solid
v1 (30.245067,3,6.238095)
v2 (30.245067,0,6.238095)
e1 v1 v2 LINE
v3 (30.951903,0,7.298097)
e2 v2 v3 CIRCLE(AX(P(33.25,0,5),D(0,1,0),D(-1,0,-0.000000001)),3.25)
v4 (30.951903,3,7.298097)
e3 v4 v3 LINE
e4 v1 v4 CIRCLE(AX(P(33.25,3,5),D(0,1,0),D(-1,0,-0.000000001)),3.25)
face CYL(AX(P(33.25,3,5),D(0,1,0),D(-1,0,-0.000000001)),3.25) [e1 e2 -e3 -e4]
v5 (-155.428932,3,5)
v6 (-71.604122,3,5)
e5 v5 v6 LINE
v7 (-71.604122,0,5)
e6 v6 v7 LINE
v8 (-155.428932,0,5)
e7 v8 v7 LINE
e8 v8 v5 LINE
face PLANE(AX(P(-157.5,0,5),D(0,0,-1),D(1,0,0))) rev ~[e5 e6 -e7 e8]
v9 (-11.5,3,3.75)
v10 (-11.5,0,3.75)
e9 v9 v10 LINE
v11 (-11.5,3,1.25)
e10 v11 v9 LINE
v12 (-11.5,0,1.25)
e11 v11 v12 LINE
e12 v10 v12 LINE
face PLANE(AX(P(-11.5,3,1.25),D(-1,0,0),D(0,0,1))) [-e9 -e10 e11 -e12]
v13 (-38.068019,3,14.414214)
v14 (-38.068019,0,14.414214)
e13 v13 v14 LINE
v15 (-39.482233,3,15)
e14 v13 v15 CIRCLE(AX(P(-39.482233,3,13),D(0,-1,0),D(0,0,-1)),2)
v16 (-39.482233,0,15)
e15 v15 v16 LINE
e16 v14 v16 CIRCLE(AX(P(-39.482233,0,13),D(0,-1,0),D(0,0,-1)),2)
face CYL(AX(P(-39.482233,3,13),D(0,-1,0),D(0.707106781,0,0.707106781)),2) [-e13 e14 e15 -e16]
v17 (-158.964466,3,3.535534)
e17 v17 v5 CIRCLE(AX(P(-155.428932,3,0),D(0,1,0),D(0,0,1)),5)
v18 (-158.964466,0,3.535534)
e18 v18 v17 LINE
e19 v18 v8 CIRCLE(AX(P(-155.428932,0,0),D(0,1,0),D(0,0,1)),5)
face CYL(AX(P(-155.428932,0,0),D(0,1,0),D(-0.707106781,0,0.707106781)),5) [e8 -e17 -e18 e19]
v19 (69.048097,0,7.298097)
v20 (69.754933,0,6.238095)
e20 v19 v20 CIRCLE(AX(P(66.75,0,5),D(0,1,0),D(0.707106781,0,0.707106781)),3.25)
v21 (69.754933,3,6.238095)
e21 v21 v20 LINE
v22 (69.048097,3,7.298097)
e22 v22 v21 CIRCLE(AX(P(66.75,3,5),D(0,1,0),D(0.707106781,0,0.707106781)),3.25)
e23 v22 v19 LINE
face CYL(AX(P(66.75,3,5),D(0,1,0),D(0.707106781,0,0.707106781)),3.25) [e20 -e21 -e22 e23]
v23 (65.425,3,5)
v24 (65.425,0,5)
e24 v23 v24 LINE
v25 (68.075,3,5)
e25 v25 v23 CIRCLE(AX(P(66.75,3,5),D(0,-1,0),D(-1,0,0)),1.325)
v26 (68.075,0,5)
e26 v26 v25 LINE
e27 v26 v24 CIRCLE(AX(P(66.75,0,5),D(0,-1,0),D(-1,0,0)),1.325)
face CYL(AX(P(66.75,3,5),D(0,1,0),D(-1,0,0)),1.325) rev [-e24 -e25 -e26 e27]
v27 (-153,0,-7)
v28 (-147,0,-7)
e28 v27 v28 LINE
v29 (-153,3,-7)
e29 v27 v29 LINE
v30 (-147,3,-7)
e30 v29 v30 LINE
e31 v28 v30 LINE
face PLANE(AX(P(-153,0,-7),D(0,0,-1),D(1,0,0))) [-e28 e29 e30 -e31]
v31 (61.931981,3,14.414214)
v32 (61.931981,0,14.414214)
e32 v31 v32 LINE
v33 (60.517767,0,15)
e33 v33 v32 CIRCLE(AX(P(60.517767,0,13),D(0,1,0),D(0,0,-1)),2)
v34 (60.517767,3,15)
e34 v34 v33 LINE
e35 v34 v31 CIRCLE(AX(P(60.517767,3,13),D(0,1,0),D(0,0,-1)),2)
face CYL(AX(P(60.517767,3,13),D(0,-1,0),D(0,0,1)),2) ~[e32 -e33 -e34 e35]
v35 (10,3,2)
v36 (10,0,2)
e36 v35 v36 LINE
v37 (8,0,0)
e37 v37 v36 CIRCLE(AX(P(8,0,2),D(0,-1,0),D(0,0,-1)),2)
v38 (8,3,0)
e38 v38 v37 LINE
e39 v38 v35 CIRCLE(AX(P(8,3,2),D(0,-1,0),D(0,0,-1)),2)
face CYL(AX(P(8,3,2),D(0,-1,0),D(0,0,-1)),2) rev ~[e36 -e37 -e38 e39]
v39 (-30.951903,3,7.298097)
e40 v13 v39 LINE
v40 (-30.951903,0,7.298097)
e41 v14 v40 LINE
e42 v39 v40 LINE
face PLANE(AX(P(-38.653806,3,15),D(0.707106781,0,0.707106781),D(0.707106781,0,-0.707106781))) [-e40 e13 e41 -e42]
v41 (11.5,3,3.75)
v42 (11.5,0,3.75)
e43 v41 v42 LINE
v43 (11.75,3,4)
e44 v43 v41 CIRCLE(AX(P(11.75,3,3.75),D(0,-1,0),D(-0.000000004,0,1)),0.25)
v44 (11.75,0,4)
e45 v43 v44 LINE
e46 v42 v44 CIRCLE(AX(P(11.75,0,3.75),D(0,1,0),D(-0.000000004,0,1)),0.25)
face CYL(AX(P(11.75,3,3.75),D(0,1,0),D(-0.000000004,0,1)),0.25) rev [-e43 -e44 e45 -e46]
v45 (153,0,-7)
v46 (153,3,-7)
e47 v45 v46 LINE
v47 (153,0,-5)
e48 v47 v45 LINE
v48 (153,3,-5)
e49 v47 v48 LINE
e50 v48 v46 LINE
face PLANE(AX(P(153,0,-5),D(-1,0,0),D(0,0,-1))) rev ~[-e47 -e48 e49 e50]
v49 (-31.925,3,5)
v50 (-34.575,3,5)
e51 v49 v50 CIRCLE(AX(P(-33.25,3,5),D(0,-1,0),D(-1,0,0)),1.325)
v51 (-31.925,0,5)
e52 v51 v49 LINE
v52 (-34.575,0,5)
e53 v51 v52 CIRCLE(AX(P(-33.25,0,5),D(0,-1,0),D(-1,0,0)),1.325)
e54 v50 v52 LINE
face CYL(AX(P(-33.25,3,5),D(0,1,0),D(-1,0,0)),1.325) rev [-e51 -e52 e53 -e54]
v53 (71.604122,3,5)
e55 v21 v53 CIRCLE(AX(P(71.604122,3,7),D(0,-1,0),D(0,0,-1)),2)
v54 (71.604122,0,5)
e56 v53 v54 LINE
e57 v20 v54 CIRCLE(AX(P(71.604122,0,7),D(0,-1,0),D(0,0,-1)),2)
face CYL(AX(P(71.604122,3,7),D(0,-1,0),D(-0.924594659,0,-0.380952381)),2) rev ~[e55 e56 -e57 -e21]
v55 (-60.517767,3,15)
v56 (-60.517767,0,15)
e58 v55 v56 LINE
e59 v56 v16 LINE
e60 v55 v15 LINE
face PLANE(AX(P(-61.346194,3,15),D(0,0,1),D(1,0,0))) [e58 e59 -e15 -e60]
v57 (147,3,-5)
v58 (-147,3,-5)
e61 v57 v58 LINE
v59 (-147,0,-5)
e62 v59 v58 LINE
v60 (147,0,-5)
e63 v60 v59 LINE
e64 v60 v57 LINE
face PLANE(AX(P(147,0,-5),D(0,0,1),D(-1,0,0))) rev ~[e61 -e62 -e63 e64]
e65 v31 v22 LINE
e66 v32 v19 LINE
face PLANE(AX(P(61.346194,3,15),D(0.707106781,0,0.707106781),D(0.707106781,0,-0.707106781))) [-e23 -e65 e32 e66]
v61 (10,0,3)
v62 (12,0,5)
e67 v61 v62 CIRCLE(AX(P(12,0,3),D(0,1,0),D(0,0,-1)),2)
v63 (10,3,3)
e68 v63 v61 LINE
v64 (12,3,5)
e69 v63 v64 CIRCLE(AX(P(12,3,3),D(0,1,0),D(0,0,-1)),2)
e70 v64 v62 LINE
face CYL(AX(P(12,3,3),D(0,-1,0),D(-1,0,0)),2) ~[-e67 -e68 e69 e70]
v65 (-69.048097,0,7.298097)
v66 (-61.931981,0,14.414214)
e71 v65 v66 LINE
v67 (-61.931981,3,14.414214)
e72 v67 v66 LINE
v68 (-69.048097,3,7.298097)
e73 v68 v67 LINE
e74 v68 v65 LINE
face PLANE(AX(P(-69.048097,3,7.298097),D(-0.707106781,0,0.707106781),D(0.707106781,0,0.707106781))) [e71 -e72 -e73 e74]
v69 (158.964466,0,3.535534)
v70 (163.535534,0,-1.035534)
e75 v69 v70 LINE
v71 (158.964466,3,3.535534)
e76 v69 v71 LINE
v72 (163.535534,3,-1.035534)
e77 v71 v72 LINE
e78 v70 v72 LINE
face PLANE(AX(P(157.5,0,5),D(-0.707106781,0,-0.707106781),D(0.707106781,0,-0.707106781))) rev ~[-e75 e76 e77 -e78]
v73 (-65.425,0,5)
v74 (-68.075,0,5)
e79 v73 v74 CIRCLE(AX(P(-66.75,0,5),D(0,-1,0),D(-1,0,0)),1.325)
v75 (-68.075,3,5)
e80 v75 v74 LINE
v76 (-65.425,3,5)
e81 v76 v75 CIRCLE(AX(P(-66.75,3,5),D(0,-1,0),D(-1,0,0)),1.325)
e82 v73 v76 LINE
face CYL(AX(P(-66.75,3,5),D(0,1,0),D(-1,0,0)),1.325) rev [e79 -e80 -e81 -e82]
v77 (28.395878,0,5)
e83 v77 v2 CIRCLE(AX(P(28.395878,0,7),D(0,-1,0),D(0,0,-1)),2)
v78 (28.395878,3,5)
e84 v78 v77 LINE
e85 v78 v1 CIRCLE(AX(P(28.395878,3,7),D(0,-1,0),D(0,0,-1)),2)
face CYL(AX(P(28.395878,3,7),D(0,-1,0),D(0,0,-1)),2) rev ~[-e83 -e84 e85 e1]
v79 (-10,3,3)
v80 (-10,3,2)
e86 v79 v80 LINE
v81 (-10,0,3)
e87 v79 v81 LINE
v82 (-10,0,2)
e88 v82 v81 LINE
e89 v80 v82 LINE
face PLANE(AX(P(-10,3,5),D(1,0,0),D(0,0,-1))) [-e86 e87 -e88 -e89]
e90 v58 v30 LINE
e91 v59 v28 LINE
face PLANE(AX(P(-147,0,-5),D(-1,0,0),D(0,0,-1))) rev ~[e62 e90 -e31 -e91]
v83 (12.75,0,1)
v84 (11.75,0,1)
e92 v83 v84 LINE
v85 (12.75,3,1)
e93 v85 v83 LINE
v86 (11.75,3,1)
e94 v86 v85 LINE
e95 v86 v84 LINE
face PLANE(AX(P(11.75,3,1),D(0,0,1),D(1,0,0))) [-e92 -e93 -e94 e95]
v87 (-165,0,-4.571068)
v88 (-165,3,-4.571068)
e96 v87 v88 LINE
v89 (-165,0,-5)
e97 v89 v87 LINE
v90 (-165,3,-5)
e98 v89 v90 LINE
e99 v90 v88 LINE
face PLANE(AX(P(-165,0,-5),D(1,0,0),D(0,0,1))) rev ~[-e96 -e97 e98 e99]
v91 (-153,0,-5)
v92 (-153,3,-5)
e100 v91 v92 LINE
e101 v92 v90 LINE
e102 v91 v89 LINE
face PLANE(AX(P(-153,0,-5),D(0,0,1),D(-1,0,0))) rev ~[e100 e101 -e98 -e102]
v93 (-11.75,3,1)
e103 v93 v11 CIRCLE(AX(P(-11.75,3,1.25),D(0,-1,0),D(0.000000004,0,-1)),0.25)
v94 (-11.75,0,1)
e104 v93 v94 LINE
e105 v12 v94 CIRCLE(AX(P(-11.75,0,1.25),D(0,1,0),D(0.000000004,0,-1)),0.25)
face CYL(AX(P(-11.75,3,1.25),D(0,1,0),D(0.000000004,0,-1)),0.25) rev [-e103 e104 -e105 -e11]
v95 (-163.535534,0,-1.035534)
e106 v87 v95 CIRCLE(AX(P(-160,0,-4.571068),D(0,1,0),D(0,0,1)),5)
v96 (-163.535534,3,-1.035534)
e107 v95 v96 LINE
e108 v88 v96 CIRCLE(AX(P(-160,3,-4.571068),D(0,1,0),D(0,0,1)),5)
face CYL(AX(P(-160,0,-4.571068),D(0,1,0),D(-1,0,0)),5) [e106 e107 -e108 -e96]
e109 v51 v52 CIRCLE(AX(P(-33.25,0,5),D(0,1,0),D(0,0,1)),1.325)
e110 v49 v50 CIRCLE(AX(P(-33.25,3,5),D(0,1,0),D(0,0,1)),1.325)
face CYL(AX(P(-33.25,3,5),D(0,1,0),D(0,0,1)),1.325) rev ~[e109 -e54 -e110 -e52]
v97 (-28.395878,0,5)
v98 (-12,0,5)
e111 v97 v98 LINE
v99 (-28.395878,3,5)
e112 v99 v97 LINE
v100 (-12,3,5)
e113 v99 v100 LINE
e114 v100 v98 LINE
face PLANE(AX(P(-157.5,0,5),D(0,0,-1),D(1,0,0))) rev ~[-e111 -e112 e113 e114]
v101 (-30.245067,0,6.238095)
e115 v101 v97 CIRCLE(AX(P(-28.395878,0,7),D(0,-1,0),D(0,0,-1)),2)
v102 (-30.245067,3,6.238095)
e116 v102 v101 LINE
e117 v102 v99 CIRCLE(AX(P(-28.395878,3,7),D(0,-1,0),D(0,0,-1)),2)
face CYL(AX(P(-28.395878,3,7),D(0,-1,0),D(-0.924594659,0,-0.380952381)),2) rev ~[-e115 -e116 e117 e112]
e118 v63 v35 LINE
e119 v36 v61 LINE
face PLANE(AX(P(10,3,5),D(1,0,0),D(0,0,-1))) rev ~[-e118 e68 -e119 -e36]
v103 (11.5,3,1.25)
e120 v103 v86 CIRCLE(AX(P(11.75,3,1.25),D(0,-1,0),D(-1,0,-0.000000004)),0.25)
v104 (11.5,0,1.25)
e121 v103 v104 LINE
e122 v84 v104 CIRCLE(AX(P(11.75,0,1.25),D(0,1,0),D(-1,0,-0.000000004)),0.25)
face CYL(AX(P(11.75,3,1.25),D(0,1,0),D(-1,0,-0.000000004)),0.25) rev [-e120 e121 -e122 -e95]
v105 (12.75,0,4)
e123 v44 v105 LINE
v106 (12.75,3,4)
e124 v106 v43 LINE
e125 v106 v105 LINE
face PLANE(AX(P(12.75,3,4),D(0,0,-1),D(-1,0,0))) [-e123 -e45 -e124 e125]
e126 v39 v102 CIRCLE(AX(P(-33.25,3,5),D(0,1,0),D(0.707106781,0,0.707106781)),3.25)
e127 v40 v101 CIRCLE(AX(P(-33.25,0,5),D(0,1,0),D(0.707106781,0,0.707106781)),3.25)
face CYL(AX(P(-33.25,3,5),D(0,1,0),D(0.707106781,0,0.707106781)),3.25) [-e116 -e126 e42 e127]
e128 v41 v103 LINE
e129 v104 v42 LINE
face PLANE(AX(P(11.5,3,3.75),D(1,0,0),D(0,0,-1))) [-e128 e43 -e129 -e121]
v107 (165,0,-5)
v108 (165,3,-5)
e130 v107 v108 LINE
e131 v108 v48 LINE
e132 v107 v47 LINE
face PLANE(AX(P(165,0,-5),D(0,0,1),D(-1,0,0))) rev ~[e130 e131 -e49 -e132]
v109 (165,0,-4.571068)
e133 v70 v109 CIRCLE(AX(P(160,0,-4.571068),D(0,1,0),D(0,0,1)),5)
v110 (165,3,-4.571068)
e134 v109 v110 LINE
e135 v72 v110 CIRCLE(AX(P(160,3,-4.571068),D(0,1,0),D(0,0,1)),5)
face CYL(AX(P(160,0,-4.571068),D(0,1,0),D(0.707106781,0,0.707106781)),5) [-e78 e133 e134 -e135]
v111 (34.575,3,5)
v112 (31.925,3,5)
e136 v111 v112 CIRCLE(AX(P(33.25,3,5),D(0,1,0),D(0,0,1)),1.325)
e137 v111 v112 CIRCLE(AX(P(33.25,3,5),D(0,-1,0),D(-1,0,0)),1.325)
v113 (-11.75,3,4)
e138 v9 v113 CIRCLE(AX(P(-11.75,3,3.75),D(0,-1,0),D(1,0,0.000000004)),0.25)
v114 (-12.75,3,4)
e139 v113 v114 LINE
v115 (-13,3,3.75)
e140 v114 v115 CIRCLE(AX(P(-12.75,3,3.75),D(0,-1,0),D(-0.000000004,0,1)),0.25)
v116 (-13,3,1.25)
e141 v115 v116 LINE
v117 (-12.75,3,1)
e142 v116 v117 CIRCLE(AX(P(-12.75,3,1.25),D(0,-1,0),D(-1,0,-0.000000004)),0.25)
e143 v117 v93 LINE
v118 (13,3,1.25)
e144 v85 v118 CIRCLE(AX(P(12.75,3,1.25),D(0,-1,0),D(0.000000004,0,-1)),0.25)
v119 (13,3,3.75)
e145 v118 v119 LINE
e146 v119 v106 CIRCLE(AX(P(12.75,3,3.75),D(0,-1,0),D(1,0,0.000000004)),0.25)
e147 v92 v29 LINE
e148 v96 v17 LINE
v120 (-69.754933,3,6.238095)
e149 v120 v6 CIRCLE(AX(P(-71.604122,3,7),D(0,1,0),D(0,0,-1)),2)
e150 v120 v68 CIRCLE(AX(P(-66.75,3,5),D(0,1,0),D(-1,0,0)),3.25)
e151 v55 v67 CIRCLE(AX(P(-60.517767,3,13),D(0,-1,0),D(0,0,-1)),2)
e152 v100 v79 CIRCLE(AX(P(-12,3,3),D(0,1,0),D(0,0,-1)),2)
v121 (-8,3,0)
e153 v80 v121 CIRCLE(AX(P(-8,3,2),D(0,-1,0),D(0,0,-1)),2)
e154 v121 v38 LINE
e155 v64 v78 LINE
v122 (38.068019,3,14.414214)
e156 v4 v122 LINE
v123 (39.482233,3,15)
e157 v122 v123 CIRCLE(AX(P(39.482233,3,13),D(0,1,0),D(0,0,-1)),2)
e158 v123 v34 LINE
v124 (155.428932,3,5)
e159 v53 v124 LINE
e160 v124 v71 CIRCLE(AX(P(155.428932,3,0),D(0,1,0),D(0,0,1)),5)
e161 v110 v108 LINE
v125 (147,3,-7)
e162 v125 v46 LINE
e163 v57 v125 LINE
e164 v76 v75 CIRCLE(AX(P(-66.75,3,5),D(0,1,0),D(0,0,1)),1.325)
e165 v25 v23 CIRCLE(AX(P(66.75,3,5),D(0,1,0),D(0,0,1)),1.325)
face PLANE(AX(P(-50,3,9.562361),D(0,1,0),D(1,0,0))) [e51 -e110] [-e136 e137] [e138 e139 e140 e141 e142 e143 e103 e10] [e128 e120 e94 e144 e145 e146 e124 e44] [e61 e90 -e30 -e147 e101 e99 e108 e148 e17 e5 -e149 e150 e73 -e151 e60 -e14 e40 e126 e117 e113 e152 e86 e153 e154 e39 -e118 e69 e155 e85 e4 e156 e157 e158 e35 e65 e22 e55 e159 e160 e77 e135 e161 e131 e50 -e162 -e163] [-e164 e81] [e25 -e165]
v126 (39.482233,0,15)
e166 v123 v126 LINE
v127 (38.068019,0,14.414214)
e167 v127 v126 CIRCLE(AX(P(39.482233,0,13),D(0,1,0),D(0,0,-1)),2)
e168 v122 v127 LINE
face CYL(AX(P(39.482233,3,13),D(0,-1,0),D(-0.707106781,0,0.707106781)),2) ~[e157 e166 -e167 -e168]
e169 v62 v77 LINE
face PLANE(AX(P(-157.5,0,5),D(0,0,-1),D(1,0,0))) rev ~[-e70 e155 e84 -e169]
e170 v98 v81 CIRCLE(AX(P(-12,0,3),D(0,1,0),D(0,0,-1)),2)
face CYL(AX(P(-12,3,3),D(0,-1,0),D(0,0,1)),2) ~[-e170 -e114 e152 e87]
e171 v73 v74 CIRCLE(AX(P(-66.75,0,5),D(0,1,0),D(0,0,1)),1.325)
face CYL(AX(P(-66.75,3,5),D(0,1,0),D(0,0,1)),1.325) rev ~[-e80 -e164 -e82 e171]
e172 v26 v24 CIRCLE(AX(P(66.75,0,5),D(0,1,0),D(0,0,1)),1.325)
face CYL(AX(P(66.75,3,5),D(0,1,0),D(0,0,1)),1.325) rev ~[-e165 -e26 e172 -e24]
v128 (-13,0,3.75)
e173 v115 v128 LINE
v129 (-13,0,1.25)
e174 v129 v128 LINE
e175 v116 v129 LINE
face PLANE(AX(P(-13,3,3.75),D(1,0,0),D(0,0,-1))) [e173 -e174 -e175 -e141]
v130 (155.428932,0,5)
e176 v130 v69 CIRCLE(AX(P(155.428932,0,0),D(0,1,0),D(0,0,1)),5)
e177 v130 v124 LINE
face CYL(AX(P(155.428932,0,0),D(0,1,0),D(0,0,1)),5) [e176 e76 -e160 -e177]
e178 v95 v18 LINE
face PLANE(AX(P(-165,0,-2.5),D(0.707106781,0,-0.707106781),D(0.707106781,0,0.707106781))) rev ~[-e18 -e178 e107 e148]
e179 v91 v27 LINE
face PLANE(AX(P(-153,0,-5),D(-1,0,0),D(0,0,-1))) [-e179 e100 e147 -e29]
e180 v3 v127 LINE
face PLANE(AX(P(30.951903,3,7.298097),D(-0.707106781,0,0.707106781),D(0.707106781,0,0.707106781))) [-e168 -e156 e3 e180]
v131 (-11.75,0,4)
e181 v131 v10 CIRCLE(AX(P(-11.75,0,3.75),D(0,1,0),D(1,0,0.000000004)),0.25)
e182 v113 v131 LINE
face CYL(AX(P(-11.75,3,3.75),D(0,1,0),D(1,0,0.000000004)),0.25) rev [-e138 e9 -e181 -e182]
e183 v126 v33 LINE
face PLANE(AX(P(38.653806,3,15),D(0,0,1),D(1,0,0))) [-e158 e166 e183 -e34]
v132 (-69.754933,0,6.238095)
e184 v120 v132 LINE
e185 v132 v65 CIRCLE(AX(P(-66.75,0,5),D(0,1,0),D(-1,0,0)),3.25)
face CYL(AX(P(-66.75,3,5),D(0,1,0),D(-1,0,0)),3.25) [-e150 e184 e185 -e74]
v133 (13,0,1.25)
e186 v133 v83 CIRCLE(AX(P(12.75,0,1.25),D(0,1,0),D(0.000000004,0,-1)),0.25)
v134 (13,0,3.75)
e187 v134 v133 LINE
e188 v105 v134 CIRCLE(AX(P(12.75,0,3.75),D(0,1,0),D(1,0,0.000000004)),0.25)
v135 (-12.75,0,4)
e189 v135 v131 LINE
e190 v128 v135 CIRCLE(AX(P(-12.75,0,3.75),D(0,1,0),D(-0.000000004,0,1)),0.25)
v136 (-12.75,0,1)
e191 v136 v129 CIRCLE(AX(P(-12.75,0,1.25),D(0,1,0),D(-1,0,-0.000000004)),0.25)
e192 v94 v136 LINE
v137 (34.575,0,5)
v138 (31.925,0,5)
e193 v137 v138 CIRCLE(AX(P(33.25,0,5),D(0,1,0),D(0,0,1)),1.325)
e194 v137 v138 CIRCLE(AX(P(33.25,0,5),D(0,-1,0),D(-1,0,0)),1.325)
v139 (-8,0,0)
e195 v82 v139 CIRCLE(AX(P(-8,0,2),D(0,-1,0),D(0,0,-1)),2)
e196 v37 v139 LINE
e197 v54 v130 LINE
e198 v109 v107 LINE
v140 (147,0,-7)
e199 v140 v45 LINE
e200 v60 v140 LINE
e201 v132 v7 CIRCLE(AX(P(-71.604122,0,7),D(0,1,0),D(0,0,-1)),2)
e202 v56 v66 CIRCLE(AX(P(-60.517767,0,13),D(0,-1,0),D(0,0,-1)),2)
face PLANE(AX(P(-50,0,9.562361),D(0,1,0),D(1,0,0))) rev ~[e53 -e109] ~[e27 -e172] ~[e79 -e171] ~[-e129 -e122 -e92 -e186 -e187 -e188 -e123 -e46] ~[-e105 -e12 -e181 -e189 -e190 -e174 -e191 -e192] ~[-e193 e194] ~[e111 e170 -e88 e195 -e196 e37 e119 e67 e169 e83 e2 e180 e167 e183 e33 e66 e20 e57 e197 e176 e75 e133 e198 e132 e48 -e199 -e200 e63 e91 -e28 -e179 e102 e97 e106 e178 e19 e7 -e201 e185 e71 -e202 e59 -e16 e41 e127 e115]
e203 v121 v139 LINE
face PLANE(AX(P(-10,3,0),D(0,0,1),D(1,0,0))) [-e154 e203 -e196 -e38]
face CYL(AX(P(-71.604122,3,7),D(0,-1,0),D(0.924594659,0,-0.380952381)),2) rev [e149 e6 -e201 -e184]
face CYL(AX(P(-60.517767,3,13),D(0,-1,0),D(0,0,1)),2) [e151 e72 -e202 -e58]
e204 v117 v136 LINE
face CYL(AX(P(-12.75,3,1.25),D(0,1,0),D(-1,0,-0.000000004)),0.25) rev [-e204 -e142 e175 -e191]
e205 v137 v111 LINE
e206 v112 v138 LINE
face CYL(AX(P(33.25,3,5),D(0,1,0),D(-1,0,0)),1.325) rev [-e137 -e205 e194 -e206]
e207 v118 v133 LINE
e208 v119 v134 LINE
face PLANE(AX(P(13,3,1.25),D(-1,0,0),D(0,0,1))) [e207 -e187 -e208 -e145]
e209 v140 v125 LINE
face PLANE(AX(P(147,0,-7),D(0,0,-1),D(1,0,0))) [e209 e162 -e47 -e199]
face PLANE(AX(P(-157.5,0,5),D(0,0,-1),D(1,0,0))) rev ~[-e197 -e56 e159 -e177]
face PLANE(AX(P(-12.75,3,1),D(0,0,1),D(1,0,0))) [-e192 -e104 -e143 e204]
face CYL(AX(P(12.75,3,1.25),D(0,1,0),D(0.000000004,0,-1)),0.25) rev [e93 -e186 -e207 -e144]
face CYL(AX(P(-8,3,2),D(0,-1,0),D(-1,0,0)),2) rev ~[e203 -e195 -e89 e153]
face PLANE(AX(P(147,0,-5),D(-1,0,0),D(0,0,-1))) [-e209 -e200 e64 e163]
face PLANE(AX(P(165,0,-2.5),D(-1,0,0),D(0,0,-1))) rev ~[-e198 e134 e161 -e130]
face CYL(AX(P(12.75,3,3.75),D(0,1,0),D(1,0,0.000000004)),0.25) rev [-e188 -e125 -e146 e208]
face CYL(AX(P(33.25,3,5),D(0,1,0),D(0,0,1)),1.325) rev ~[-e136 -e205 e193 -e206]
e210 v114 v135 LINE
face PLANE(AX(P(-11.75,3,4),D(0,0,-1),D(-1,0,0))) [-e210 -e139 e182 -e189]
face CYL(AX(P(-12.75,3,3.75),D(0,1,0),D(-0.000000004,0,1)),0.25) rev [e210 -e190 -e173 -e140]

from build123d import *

# Parameters (mm, degrees)
SKETCH1_W           = 6
SKETCH1_H           = 2
BOSS_EXTRUDE1_DEPTH = 3
FILLET1_R           = 5
BOSS_EXTRUDE2_DEPTH = 3
CUT_EXTRUDE1_REACH  = 167.708
SKETCH3_R           = 1.325
SKETCH3_W           = 20
SKETCH3_H           = 5
FILLET2_R           = 2
FILLET3_R           = 2


with BuildPart() as part:
    # Sketch1 → Boss-Extrude1 (new body)
    with BuildSketch(Plane(origin=(0, 0, 0), x_dir=(1, 0, 0), z_dir=(0, 1, 0))):
        Polygon((-153, 5), (-165, 5), (-165, 2.5), (-157.5, -5), (157.5, -5), (165, 2.5), (165, 5), (153, 5), (147, 5), (-147, 5), align=None)
        with Locations((-150, 6)):
            Rectangle(SKETCH1_W, SKETCH1_H)
        with Locations((150, 6)):
            Rectangle(SKETCH1_W, SKETCH1_H)
    extrude(amount=BOSS_EXTRUDE1_DEPTH)

    # Fillet1
    fillet1_edges = [part.edges().sort_by_distance(p)[0] for p in [
        (157.5, 1.5, 5),
        (-157.5, 1.5, 5),
        (-165, 1.5, -2.5),
        (165, 1.5, -2.5),
    ]]
    fillet(fillet1_edges, radius=FILLET1_R)

    # Sketch2 → Boss-Extrude2 (add)
    with BuildSketch(Plane(origin=(0, 3, 0), x_dir=(1, 0, 0), z_dir=(0, 1, 0))):
        with BuildLine():
            Line((-38.653805922, -15), (-30.951902961, -7.298097039))
            ThreePointArc((-30.951902961, -7.298097039), (-34.493721155, -8.002608481), (-36.5, -5))
            Line((-36.5, -5), (-63.5, -5))
            ThreePointArc((-63.5, -5), (-65.506278845, -8.002608481), (-69.048097039, -7.298097039))
            Line((-69.048097039, -7.298097039), (-61.346194078, -15))
            Line((-61.346194078, -15), (-38.653805922, -15))
        make_face()
        with BuildLine():
            Line((-65.425, -5), (-63.5, -5))
            ThreePointArc((-63.5, -5), (-66.75, -1.75), (-70, -5))
            Line((-70, -5), (-68.075, -5))
            ThreePointArc((-68.075, -5), (-66.75, -3.675), (-65.425, -5))
        make_face()
        with BuildLine():
            ThreePointArc((-69.048097039, -7.298097039), (-65.506278845, -8.002608481), (-63.5, -5))
            Line((-63.5, -5), (-65.425, -5))
            ThreePointArc((-65.425, -5), (-66.75, -6.325), (-68.075, -5))
            Line((-68.075, -5), (-70, -5))
            ThreePointArc((-70, -5), (-69.752608481, -6.243721155), (-69.048097039, -7.298097039))
        make_face()
        with BuildLine():
            ThreePointArc((-30.951902961, -7.298097039), (-30.247391519, -6.243721155), (-30, -5))
            Line((-30, -5), (-31.925, -5))
            ThreePointArc((-31.925, -5), (-33.25, -6.325), (-34.575, -5))
            Line((-34.575, -5), (-36.5, -5))
            ThreePointArc((-36.5, -5), (-34.493721155, -8.002608481), (-30.951902961, -7.298097039))
        make_face()
        with BuildLine():
            Line((-31.925, -5), (-30, -5))
            ThreePointArc((-30, -5), (-33.25, -1.75), (-36.5, -5))
            Line((-36.5, -5), (-34.575, -5))
            ThreePointArc((-34.575, -5), (-33.25, -3.675), (-31.925, -5))
        make_face()
        with BuildLine():
            Line((61.346194078, -15), (69.048097039, -7.298097039))
            ThreePointArc((69.048097039, -7.298097039), (65.506278845, -8.002608481), (63.5, -5))
            Line((63.5, -5), (36.5, -5))
            ThreePointArc((36.5, -5), (34.493721155, -8.002608481), (30.951902961, -7.298097039))
            Line((30.951902961, -7.298097039), (38.653805922, -15))
            Line((38.653805922, -15), (61.346194078, -15))
        make_face()
        with BuildLine():
            Line((31.925, -5), (30, -5))
            ThreePointArc((30, -4.999999997), (30.247391519, -6.243721154), (30.951902961, -7.298097039))
            ThreePointArc((30.951902961, -7.298097039), (34.493721155, -8.002608481), (36.5, -5))
            Line((36.5, -5), (34.575, -5))
            ThreePointArc((34.575, -5), (33.25, -6.325), (31.925, -5))
        make_face()
        with BuildLine():
            ThreePointArc((36.5, -5), (33.250000002, -1.75), (30, -4.999999997))
            Line((30, -5), (31.925, -5))
            ThreePointArc((31.925, -5), (33.25, -3.675), (34.575, -5))
            Line((34.575, -5), (36.5, -5))
        make_face()
        with BuildLine():
            Line((68.075, -5), (70, -5))
            ThreePointArc((70, -5), (66.75, -1.75), (63.5, -5))
            Line((63.5, -5), (65.425, -5))
            ThreePointArc((65.425, -5), (66.75, -3.675), (68.075, -5))
        make_face()
        with BuildLine():
            ThreePointArc((69.048097039, -7.298097039), (69.752608481, -6.243721155), (70, -5))
            Line((70, -5), (68.075, -5))
            ThreePointArc((68.075, -5), (66.75, -6.325), (65.425, -5))
            Line((65.425, -5), (63.5, -5))
            ThreePointArc((63.5, -5), (65.506278845, -8.002608481), (69.048097039, -7.298097039))
        make_face()
    extrude(amount=-BOSS_EXTRUDE2_DEPTH)

    # Sketch3 → Cut-Extrude1 (cut, up to next)
    with BuildSketch(Plane(origin=(0, 3, 0), x_dir=(1, 0, 0), z_dir=(0, 1, 0)), mode=Mode.PRIVATE) as cut_extrude1_sk1:
        with Locations(Location((-66.75, -5, 0), (0, 0, 270))):
            Circle(SKETCH3_R)
    cut_extrude1_tool1 = extrude(cut_extrude1_sk1.sketch, amount=-CUT_EXTRUDE1_REACH, mode=Mode.PRIVATE) & part.part
    # Sketch3 → Cut-Extrude1 (cut, up to next)
    with BuildSketch(Plane(origin=(0, 3, 0), x_dir=(1, 0, 0), z_dir=(0, 1, 0)), mode=Mode.PRIVATE) as cut_extrude1_sk2:
        with Locations(Location((-33.25, -5, 0), (0, 0, 270))):
            Circle(SKETCH3_R)
    cut_extrude1_tool2 = extrude(cut_extrude1_sk2.sketch, amount=-CUT_EXTRUDE1_REACH, mode=Mode.PRIVATE) & part.part
    # Sketch3 → Cut-Extrude1 (cut, up to next)
    with BuildSketch(Plane(origin=(0, 3, 0), x_dir=(1, 0, 0), z_dir=(0, 1, 0)), mode=Mode.PRIVATE) as cut_extrude1_sk3:
        with Locations(Location((33.25, -5, 0), (0, 0, 270))):
            Circle(SKETCH3_R)
    cut_extrude1_tool3 = extrude(cut_extrude1_sk3.sketch, amount=-CUT_EXTRUDE1_REACH, mode=Mode.PRIVATE) & part.part
    # Sketch3 → Cut-Extrude1 (cut, up to next)
    with BuildSketch(Plane(origin=(0, 3, 0), x_dir=(1, 0, 0), z_dir=(0, 1, 0)), mode=Mode.PRIVATE) as cut_extrude1_sk4:
        with Locations(Location((66.75, -5, 0), (0, 0, 270))):
            Circle(SKETCH3_R)
    cut_extrude1_tool4 = extrude(cut_extrude1_sk4.sketch, amount=-CUT_EXTRUDE1_REACH, mode=Mode.PRIVATE) & part.part
    # Sketch3 → Cut-Extrude1 (cut, up to next)
    with BuildSketch(Plane(origin=(0, 3, 0), x_dir=(1, 0, 0), z_dir=(0, 1, 0)), mode=Mode.PRIVATE) as cut_extrude1_sk5:
        with Locations((0, -2.5)):
            Rectangle(SKETCH3_W, SKETCH3_H)
    cut_extrude1_tool5 = extrude(cut_extrude1_sk5.sketch, amount=-CUT_EXTRUDE1_REACH, mode=Mode.PRIVATE) & part.part
    # Sketch3 → Cut-Extrude1 (cut, up to next)
    with BuildSketch(Plane(origin=(0, 3, 0), x_dir=(1, 0, 0), z_dir=(0, 1, 0)), mode=Mode.PRIVATE) as cut_extrude1_sk6:
        with BuildLine():
            Line((13, -1.25), (13, -3.75))
            ThreePointArc((13, -3.75), (12.926776695, -3.926776695), (12.75, -4))
            Line((12.75, -4), (11.75, -4))
            ThreePointArc((11.75, -4), (11.573223305, -3.926776695), (11.5, -3.75))
            Line((11.5, -3.75), (11.5, -1.25))
            ThreePointArc((11.5, -1.25), (11.573223305, -1.073223305), (11.75, -1))
            Line((11.75, -1), (12.75, -1))
            ThreePointArc((12.75, -1), (12.926776695, -1.073223305), (13, -1.25))
        make_face()
    cut_extrude1_tool6 = extrude(cut_extrude1_sk6.sketch, amount=-CUT_EXTRUDE1_REACH, mode=Mode.PRIVATE) & part.part
    # Sketch3 → Cut-Extrude1 (cut, up to next)
    with BuildSketch(Plane(origin=(0, 3, 0), x_dir=(1, 0, 0), z_dir=(0, 1, 0)), mode=Mode.PRIVATE) as cut_extrude1_sk7:
        with BuildLine():
            Line((-12.75, -1), (-11.75, -1))
            ThreePointArc((-11.75, -1), (-11.573223305, -1.073223305), (-11.5, -1.25))
            Line((-11.5, -1.25), (-11.5, -3.75))
            ThreePointArc((-11.5, -3.75), (-11.573223305, -3.926776695), (-11.75, -4))
            Line((-11.75, -4), (-12.75, -4))
            ThreePointArc((-12.75, -4), (-12.926776695, -3.926776695), (-13, -3.75))
            Line((-13, -3.75), (-13, -1.25))
            ThreePointArc((-13, -1.25), (-12.926776695, -1.073223305), (-12.75, -1))
        make_face()
    cut_extrude1_tool7 = extrude(cut_extrude1_sk7.sketch, amount=-CUT_EXTRUDE1_REACH, mode=Mode.PRIVATE) & part.part
    add(cut_extrude1_tool1.solids().sort_by_distance((-66.75, 3, 5))[0], mode=Mode.SUBTRACT)
    add(cut_extrude1_tool2.solids().sort_by_distance((-33.25, 3, 5))[0], mode=Mode.SUBTRACT)
    add(cut_extrude1_tool3.solids().sort_by_distance((33.25, 3, 5))[0], mode=Mode.SUBTRACT)
    add(cut_extrude1_tool4.solids().sort_by_distance((66.75, 3, 5))[0], mode=Mode.SUBTRACT)
    add(cut_extrude1_tool5.solids().sort_by_distance((0, 3, 2.5))[0], mode=Mode.SUBTRACT)
    add(cut_extrude1_tool6.solids().sort_by_distance((12.25, 3, 2.5))[0], mode=Mode.SUBTRACT)
    add(cut_extrude1_tool7.solids().sort_by_distance((-12.25, 3, 2.5))[0], mode=Mode.SUBTRACT)

    # Fillet2
    fillet2_edges = [part.edges().sort_by_distance(p)[0] for p in [
        (-30, 1.5, 5),
        (-70, 1.5, 5),
        (-61.346194078, 1.5, 15),
        (-38.653805922, 1.5, 15),
        (61.346194078, 1.5, 15),
        (38.653805922, 1.5, 15),
        (30, 1.5, 5),
        (70, 1.5, 5),
    ]]
    fillet(fillet2_edges, radius=FILLET2_R)

    # Fillet3
    fillet3_edges = [part.edges().sort_by_distance(p)[0] for p in [
        (10, 1.5, 0),
        (10, 1.5, 5),
        (-10, 1.5, 5),
        (-10, 1.5, 0),
    ]]
    fillet(fillet3_edges, radius=FILLET3_R)


solid = part.part
